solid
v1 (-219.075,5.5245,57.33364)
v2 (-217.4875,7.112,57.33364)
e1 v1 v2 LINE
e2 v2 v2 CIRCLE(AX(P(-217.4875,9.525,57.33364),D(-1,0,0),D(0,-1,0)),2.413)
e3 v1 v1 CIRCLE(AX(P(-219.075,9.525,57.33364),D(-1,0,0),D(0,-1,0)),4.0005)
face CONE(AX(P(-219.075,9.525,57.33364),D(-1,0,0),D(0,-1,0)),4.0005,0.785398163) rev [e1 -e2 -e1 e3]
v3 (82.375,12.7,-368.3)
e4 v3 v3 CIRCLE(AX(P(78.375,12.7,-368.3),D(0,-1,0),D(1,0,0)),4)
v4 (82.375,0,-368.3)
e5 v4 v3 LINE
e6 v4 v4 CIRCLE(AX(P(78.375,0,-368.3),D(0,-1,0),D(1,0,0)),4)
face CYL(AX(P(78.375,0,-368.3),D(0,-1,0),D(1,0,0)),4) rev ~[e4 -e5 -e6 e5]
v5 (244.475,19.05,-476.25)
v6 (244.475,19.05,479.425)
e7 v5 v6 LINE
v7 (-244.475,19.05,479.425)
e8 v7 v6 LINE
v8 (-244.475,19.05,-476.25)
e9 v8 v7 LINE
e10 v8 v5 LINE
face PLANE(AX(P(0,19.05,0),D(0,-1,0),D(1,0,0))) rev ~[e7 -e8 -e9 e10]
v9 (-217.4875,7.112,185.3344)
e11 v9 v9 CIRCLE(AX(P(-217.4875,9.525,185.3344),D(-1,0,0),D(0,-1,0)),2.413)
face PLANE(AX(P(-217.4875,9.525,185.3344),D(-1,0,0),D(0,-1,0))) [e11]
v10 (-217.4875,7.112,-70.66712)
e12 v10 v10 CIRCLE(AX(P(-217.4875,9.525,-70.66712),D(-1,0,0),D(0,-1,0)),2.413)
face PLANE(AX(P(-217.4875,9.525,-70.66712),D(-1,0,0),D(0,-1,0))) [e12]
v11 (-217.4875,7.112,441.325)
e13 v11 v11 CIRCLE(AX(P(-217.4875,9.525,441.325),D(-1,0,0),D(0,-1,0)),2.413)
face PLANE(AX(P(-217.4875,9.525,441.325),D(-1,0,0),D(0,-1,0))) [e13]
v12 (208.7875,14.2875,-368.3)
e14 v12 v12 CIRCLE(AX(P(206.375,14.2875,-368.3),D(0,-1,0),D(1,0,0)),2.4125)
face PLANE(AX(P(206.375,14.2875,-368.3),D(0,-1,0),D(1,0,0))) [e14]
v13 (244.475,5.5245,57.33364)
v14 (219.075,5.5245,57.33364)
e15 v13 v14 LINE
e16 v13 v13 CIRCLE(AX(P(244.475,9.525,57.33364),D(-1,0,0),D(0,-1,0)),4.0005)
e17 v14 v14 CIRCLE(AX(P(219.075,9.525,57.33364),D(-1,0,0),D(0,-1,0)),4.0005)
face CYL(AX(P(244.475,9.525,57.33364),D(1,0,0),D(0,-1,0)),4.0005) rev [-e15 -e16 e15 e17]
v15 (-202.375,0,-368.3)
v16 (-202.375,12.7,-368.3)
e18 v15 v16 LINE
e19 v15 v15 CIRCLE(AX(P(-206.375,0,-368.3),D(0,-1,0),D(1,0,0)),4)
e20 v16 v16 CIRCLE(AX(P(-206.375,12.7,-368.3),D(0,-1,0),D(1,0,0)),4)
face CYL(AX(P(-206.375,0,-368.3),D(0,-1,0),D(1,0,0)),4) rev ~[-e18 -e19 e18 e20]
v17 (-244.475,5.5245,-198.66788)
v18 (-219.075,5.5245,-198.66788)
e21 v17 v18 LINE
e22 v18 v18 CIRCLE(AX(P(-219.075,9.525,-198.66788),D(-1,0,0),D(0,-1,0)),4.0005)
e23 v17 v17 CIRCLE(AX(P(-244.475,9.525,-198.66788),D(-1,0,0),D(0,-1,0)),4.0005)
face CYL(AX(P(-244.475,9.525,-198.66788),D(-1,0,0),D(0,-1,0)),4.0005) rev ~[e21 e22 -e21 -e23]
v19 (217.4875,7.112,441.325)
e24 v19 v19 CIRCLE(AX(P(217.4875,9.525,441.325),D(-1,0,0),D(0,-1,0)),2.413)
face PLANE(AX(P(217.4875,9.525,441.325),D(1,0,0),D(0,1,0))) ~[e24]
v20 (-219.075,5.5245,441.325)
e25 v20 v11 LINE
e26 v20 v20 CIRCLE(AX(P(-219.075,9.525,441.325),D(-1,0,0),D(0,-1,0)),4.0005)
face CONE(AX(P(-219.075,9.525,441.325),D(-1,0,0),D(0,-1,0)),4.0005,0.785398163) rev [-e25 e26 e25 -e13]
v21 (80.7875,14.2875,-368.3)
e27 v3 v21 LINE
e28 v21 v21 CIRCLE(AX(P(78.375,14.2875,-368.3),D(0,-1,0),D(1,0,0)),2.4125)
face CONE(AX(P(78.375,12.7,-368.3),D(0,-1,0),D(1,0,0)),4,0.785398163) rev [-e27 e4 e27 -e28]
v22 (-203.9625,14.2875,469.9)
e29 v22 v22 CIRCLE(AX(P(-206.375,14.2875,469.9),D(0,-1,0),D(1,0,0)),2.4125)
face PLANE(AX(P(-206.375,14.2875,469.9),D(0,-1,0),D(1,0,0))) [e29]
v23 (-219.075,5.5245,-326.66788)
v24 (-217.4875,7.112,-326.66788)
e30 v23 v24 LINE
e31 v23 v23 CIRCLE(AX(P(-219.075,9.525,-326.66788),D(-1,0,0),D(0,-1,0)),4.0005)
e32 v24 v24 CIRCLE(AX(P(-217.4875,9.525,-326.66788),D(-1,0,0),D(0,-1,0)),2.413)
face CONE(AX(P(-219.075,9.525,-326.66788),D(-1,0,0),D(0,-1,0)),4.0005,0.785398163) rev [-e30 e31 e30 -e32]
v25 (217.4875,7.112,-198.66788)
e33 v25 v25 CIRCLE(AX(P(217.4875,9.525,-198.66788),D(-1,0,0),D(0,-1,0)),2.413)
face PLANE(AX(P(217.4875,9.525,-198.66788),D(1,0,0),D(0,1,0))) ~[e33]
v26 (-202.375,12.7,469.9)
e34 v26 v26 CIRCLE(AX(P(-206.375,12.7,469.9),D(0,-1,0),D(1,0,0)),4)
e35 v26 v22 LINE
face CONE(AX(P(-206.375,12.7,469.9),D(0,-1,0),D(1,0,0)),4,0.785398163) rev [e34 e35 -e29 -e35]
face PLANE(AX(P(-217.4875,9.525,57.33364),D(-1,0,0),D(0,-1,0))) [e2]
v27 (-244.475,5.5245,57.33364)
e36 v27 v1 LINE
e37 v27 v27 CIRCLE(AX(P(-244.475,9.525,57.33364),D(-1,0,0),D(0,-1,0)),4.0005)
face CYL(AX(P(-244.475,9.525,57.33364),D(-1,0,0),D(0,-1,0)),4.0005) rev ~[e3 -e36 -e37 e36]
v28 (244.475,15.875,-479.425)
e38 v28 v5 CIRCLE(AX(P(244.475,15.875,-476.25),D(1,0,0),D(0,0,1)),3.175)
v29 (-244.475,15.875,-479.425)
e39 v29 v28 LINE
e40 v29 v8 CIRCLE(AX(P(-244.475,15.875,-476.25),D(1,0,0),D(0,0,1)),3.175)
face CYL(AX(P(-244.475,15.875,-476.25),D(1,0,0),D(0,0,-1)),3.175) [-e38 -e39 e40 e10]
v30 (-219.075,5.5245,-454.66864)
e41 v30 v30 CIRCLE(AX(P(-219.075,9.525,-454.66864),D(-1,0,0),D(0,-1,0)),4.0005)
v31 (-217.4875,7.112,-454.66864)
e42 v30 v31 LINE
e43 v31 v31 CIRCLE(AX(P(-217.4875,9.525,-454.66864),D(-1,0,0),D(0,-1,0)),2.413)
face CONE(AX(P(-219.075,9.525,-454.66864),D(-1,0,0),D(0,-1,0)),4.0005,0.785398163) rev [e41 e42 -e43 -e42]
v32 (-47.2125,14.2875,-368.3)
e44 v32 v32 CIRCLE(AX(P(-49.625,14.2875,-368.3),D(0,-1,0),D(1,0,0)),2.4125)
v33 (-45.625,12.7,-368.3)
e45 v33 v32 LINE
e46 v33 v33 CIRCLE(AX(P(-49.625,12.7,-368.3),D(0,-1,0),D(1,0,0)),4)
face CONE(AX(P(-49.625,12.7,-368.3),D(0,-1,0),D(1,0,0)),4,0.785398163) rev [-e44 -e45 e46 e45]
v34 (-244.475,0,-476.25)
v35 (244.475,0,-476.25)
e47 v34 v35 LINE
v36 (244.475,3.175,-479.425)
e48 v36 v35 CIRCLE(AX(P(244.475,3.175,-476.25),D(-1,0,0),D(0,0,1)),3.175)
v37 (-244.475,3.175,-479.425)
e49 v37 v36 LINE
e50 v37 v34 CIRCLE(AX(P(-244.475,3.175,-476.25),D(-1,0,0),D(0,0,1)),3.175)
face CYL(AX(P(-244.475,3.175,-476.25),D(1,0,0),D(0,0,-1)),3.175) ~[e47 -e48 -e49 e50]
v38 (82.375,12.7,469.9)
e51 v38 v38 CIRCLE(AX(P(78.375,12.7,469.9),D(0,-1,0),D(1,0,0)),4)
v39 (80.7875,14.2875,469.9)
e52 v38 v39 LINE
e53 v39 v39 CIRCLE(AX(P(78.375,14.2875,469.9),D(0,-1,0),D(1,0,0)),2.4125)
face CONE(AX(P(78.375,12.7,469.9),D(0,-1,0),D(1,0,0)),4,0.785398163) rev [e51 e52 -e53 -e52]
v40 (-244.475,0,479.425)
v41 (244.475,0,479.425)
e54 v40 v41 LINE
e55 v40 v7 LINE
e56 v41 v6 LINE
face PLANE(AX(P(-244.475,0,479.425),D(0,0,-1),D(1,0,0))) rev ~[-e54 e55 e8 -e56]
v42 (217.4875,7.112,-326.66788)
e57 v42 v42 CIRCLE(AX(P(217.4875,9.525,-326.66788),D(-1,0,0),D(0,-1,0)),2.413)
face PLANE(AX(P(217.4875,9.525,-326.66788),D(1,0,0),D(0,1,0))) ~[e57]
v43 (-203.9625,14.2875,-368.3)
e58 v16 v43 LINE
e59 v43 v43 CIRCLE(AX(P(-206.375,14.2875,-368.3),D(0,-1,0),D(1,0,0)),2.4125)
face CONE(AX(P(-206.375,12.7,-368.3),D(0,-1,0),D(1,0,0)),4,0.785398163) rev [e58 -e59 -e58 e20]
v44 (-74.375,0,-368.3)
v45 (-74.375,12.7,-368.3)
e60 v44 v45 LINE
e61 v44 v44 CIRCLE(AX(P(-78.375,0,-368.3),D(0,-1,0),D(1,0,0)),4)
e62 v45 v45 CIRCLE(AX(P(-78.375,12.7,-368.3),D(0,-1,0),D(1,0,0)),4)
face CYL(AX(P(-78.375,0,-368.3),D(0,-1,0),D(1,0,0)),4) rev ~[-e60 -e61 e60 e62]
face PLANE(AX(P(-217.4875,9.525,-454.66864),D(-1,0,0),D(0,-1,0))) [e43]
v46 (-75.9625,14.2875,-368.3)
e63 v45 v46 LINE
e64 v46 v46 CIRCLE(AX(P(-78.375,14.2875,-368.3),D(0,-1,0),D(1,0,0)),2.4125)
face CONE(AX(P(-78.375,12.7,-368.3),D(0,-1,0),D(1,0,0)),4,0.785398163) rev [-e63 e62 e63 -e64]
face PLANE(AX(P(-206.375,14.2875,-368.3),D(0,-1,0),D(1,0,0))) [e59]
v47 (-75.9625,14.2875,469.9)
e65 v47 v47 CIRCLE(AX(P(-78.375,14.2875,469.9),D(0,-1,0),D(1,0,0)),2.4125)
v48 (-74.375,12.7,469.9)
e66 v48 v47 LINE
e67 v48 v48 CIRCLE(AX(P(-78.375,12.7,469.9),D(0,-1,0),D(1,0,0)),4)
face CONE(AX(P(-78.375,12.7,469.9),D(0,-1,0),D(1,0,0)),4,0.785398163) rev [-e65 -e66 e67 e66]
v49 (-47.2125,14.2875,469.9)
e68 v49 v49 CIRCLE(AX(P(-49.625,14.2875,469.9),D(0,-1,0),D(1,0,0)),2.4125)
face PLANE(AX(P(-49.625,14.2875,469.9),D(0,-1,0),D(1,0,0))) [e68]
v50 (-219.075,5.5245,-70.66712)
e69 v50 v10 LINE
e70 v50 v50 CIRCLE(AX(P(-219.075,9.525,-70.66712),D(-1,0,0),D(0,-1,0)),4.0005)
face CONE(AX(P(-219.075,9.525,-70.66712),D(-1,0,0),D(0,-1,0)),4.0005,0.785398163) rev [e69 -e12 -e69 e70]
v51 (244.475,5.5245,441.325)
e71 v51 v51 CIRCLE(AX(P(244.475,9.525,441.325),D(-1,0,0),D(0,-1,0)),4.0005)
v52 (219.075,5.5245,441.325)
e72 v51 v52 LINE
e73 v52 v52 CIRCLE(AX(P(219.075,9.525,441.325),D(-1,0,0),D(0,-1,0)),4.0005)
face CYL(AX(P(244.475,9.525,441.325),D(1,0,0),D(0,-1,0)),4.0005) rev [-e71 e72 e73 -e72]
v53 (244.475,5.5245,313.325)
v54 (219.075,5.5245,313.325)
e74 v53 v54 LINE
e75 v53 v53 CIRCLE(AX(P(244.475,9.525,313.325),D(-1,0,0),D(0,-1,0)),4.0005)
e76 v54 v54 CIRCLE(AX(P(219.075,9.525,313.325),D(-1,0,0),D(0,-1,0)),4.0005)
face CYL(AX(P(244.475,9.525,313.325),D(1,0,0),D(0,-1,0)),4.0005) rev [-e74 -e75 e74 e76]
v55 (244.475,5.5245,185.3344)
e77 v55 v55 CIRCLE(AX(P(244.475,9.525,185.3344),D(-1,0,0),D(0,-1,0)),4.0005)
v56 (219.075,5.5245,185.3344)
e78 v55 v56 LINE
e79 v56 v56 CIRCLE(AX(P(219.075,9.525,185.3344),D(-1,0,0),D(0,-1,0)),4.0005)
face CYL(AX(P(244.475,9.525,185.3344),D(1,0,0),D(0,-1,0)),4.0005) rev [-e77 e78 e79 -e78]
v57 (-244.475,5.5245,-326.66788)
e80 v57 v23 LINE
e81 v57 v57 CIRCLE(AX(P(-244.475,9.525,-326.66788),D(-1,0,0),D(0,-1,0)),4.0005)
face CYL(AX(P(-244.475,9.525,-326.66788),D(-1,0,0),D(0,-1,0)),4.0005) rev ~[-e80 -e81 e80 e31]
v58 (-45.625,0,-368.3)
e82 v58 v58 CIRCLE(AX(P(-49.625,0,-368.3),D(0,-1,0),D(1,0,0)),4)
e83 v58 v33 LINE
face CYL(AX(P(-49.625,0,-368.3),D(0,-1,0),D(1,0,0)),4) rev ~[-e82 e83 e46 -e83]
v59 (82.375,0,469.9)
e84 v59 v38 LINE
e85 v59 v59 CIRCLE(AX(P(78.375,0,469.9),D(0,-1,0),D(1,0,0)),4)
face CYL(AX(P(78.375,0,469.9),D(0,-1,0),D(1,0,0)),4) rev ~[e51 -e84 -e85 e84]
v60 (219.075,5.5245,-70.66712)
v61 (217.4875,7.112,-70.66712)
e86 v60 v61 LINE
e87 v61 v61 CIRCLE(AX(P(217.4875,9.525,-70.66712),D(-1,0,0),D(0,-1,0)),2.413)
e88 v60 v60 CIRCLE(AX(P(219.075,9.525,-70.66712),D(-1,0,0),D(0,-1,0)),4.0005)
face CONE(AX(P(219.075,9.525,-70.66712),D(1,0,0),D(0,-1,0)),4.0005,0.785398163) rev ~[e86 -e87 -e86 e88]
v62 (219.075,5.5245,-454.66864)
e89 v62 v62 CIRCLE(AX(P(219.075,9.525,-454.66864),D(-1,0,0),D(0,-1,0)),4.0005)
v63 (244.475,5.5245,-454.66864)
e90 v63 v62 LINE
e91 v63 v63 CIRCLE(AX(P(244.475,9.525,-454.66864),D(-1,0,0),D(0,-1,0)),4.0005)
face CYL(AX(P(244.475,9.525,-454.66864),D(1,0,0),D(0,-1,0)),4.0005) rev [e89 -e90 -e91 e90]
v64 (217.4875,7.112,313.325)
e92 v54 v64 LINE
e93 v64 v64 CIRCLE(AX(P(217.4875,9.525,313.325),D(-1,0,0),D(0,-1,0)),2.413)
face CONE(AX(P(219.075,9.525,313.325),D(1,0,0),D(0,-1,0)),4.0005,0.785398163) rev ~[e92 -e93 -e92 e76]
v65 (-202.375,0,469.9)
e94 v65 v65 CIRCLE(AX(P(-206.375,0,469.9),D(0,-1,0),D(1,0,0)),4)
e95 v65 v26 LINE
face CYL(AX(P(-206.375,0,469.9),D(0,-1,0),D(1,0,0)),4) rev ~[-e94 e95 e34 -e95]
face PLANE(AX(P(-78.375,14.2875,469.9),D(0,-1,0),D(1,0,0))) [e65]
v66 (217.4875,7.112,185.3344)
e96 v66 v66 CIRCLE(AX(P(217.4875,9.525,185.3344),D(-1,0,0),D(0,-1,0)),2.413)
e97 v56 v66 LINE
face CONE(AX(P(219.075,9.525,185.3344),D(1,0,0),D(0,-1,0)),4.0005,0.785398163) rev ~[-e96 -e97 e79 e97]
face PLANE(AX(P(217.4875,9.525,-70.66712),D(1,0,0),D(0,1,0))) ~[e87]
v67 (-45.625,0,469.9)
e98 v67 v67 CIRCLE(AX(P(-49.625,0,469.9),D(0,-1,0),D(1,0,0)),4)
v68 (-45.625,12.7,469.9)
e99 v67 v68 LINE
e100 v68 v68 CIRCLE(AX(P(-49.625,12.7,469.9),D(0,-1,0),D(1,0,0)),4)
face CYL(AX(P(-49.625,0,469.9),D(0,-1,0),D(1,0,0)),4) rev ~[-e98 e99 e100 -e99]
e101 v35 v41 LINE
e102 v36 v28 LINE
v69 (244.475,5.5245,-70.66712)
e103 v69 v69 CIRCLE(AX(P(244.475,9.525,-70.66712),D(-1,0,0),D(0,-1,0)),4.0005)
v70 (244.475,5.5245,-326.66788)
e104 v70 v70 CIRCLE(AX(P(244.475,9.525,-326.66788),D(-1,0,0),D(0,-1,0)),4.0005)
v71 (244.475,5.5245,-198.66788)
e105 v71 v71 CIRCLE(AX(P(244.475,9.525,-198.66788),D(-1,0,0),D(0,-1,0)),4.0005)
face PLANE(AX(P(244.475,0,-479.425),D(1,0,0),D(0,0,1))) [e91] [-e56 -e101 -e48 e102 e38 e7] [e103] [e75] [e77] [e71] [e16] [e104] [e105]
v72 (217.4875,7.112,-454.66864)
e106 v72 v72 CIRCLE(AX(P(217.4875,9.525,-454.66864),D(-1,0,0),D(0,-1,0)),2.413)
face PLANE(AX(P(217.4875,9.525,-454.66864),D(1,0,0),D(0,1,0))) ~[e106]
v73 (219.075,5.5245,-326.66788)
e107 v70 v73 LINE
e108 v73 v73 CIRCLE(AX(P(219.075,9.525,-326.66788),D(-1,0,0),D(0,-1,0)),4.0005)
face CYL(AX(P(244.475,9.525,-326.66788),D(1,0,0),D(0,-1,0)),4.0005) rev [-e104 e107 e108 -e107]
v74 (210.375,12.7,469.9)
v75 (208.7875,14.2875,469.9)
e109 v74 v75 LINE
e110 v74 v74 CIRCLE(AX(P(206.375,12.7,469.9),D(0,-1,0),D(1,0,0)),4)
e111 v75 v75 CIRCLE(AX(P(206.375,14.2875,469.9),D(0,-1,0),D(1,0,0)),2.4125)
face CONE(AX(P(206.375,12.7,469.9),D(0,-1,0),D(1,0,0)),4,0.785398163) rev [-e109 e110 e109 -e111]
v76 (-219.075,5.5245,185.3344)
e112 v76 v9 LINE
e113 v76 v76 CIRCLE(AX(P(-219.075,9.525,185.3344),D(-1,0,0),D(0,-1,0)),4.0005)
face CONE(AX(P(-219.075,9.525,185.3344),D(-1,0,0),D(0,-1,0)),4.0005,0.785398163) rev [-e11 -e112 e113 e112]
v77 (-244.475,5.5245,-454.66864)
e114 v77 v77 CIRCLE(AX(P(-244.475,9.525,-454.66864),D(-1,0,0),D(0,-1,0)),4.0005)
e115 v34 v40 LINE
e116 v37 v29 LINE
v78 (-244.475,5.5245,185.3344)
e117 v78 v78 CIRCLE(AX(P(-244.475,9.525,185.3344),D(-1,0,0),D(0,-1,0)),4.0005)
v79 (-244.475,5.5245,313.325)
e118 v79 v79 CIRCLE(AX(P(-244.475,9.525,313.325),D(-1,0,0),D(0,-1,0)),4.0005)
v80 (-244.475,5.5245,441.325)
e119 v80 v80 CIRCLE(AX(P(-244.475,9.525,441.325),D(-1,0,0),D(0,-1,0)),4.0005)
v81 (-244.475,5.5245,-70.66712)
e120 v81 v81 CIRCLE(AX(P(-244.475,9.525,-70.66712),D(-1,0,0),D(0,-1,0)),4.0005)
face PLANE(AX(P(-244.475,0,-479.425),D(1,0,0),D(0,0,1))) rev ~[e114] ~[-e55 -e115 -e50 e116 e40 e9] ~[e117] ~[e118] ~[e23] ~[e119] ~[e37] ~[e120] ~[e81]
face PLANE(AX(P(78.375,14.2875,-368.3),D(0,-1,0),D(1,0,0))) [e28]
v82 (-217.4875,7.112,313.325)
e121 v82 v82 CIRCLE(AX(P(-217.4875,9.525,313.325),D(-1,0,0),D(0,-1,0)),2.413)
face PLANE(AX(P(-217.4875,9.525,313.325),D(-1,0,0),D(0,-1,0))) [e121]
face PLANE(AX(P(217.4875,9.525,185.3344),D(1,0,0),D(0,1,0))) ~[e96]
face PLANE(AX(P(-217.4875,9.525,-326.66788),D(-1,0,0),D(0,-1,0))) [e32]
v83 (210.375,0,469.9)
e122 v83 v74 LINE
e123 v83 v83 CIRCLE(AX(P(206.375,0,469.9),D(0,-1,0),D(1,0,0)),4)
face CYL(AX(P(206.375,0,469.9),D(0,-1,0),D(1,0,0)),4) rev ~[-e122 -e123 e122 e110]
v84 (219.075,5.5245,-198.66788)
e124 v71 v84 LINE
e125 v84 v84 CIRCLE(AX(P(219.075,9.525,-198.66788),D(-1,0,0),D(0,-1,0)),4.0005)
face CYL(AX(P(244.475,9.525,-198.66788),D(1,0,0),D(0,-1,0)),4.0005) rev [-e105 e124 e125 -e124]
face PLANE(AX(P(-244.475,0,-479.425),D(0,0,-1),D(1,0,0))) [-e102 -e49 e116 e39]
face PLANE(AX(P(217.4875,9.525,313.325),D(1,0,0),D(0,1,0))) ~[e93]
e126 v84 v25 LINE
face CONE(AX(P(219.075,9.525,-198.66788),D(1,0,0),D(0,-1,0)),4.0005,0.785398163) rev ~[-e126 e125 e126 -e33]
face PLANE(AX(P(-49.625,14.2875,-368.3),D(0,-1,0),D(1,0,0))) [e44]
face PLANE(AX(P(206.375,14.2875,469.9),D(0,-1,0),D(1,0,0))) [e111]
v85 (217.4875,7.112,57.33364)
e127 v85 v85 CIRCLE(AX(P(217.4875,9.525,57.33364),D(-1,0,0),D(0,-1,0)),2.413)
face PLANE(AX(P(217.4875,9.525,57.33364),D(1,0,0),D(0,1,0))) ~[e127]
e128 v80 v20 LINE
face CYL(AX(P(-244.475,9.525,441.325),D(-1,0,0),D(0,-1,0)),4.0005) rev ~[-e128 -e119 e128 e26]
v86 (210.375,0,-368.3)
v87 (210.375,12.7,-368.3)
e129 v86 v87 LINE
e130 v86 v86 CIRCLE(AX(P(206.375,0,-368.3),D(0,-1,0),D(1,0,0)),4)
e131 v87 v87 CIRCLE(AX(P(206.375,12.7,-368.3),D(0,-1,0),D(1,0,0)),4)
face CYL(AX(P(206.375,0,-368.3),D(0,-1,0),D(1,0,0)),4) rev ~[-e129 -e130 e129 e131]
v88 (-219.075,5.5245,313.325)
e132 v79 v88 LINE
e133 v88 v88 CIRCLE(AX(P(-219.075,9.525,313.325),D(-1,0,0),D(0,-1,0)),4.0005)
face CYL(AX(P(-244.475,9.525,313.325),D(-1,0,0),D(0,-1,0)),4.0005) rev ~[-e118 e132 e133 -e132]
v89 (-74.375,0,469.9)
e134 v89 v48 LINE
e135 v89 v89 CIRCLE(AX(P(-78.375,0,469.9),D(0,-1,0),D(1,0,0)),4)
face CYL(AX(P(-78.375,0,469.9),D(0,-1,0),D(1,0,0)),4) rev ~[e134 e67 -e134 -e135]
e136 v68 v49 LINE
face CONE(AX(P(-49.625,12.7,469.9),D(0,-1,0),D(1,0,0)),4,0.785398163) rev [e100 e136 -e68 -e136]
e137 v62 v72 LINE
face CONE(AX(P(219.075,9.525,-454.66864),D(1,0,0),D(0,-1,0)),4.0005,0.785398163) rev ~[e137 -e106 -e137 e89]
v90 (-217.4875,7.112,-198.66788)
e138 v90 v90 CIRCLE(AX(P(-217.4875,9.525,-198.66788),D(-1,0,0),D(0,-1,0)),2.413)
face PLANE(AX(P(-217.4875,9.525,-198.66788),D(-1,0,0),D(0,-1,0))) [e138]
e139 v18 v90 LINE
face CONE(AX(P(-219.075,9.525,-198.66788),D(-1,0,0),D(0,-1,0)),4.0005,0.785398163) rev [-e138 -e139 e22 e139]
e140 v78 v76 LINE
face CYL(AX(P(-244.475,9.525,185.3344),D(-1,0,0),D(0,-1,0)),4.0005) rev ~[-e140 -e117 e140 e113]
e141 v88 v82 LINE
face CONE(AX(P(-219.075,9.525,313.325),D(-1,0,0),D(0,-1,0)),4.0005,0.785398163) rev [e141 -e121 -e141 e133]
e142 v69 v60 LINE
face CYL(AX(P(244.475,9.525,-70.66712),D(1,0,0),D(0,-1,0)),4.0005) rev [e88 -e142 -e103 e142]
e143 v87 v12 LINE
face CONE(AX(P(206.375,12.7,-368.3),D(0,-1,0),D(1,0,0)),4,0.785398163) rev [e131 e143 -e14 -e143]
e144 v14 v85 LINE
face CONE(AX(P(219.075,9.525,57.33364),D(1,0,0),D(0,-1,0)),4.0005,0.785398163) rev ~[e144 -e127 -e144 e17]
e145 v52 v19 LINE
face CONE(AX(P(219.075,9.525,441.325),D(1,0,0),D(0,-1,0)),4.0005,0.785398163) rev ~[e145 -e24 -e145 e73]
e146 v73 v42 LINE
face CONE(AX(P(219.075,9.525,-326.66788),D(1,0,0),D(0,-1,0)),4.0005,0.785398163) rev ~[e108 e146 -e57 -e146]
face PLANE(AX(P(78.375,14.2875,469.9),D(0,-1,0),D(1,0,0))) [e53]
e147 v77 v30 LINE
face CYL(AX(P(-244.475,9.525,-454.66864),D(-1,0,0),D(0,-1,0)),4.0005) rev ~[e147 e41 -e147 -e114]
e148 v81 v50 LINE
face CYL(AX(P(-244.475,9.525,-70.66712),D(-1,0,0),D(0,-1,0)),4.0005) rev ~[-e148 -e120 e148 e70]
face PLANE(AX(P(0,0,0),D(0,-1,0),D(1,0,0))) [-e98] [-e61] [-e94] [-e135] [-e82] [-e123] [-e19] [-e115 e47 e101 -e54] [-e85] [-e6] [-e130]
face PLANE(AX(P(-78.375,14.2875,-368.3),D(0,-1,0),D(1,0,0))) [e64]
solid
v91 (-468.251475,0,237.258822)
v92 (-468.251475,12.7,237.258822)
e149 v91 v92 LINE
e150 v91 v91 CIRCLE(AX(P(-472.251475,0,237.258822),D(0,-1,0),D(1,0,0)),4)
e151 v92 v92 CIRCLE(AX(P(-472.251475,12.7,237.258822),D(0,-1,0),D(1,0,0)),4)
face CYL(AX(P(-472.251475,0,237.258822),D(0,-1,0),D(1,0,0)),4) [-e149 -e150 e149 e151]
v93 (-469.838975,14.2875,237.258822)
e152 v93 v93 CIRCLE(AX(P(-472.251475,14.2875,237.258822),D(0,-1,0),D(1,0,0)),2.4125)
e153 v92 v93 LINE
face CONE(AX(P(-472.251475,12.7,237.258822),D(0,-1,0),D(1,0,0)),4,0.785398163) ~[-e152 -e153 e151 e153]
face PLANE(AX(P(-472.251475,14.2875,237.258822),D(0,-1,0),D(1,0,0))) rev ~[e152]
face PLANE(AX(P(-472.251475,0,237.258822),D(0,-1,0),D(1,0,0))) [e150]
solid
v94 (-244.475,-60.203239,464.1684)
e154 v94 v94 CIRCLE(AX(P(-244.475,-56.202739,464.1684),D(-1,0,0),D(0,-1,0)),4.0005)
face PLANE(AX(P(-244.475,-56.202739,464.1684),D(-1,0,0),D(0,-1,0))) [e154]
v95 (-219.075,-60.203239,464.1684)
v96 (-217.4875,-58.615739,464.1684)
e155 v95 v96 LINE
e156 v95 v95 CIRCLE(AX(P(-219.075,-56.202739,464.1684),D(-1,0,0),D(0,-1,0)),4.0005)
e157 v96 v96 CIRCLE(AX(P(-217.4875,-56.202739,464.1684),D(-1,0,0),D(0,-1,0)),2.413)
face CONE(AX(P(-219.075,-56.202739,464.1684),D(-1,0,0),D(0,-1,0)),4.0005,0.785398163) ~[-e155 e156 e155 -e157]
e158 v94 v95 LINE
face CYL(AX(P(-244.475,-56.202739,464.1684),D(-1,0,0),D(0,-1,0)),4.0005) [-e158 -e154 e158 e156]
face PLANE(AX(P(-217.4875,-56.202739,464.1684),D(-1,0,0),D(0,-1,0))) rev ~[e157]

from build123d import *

# Parameters (mm, degrees)
F0_W      = 488.95
F0_H      = 958.85
F1_DEPTH  = 19.05
F3_R      = 4.0005
F31_DEPTH = 26.9875
F4_SIZE   = 1.5875
F16_R     = 4
F17_DEPTH = 14.2875
F18_SIZE  = 1.5875
F30_R     = 3.175


with BuildPart() as f1:
    # F0 (on Front) → F1 (new body)
    with BuildSketch(Plane.XZ):
        Rectangle(F0_W, F0_H)
    extrude(amount=-F1_DEPTH)


with BuildPart() as f31:
    # F3 (on face) → F31 (new body)
    with BuildSketch(Plane(origin=(-244.475, 0, 0), x_dir=(0, -1, 0), z_dir=(-1, 0, 0))):
        with Locations((56.2027394772, 464.1683995724)):
            Circle(F3_R)
    extrude(amount=-F31_DEPTH)

    # F4
    f4_edges = [f31.edges().sort_by_distance(p)[0] for p in [
        (-217.4875, -52.202239, 464.1684),
    ]]
    chamfer(f4_edges, length=F4_SIZE)


with BuildPart() as f6_1:
    # F6: copy of F31
    add(f31.part.moved(Location((0, 65.7277394772, -22.8433995724))))


with BuildPart() as f7_1:
    # F7: copy of F6_1
    add(f6_1.part.moved(Location((0, 0, -128))))


with BuildPart() as f32_1:
    # F32: copy of F7_1
    add(f7_1.part.moved(Location((0, 0, -127.9906))))


with BuildPart() as f8_1:
    # F8: copy of F31
    add(f31.part.moved(Location((0, 65.7277394772, -406.8347595724))))


with BuildPart() as f9_1:
    # F9: copy of F31
    add(f31.part.moved(Location((0, 65.7277394772, -534.8355195724))))


with BuildPart() as f10_1:
    # F10: copy of F31
    add(f31.part.moved(Location((0, 65.7277394772, -662.8362795724))))


with BuildPart() as f11_1:
    # F11: copy of F31
    add(f31.part.moved(Location((0, 65.7277394772, -790.8362795724))))


with BuildPart() as f12_1:
    # F12: copy of F31
    add(f31.part.moved(Location((0, 65.7277394772, -918.8370395724))))


with BuildPart() as f13_1:
    # F13: instance of F6_1
    add(f6_1.part.mirror(Plane.YZ))


with BuildPart() as f13_2:
    # F13: instance of F7_1
    add(f7_1.part.mirror(Plane.YZ))


with BuildPart() as f13_3:
    # F13: instance of F32_1
    add(f32_1.part.mirror(Plane.YZ))


with BuildPart() as f13_4:
    # F13: instance of F8_1
    add(f8_1.part.mirror(Plane.YZ))


with BuildPart() as f13_5:
    # F13: instance of F9_1
    add(f9_1.part.mirror(Plane.YZ))


with BuildPart() as f13_6:
    # F13: instance of F10_1
    add(f10_1.part.mirror(Plane.YZ))


with BuildPart() as f13_7:
    # F13: instance of F11_1
    add(f11_1.part.mirror(Plane.YZ))


with BuildPart() as f13_8:
    # F13: instance of F12_1
    add(f12_1.part.mirror(Plane.YZ))


with BuildPart() as f1_1:
    add(f1.part)

    # F14: cut F13_1, F13_2, F13_3, F13_4, F13_5, F13_6, F13_7, F13_8, F6_1, F7_1, F32_1, F8_1, F9_1, F10_1, F11_1, F12_1
    add(f13_1.part, mode=Mode.SUBTRACT)
    add(f13_2.part, mode=Mode.SUBTRACT)
    add(f13_3.part, mode=Mode.SUBTRACT)
    add(f13_4.part, mode=Mode.SUBTRACT)
    add(f13_5.part, mode=Mode.SUBTRACT)
    add(f13_6.part, mode=Mode.SUBTRACT)
    add(f13_7.part, mode=Mode.SUBTRACT)
    add(f13_8.part, mode=Mode.SUBTRACT)
    add(f6_1.part, mode=Mode.SUBTRACT)
    add(f7_1.part, mode=Mode.SUBTRACT)
    add(f32_1.part, mode=Mode.SUBTRACT)
    add(f8_1.part, mode=Mode.SUBTRACT)
    add(f9_1.part, mode=Mode.SUBTRACT)
    add(f10_1.part, mode=Mode.SUBTRACT)
    add(f11_1.part, mode=Mode.SUBTRACT)
    add(f12_1.part, mode=Mode.SUBTRACT)


with BuildPart() as f17:
    # F16 (on Front) → F17 (new body)
    with BuildSketch(Plane.XZ):
        with Locations((-472.2514748573, 237.2588217258)):
            Circle(F16_R)
    extrude(amount=-F17_DEPTH)

    # F18
    f18_edges = [f17.edges().sort_by_distance(p)[0] for p in [
        (-476.251475, 14.2875, 237.258822),
    ]]
    chamfer(f18_edges, length=F18_SIZE)


with BuildPart() as f19_1:
    # F19: copy of F17
    add(f17.part.moved(Location((265.8764748573, 0, 232.6411782742))))


with BuildPart() as f20_1:
    # F20: copy of F17
    add(f17.part.moved(Location((393.8764748573, 0, 232.6411782742))))


with BuildPart() as f21_1:
    # F21: copy of F17
    add(f17.part.moved(Location((422.6264748573, 0, 232.6411782742))))


with BuildPart() as f22_1:
    # F22: copy of F17
    add(f17.part.moved(Location((550.6264748573, 0, 232.6411782742))))


with BuildPart() as f23_1:
    # F23: copy of F17
    add(f17.part.moved(Location((678.6264748573, 0, 232.6411782742))))


with BuildPart() as f24_1:
    # F24: copy of F17
    add(f17.part.moved(Location((265.8764748573, 0, -605.5588217258))))


with BuildPart() as f25_1:
    # F25: copy of F17
    add(f17.part.moved(Location((393.8764748573, 0, -605.5588217258))))


with BuildPart() as f26_1:
    # F26: copy of F17
    add(f17.part.moved(Location((422.6264748573, 0, -605.5588217258))))


with BuildPart() as f27_1:
    # F27: copy of F17
    add(f17.part.moved(Location((550.6264748573, 0, -605.5588217258))))


with BuildPart() as f28_1:
    # F28: copy of F17
    add(f17.part.moved(Location((678.6264748573, 0, -605.5588217258))))


with BuildPart() as f1_2:
    add(f1_1.part)

    # F29: cut F24_1, F25_1, F26_1, F27_1, F28_1, F19_1, F20_1, F21_1, F22_1, F23_1
    add(f24_1.part, mode=Mode.SUBTRACT)
    add(f25_1.part, mode=Mode.SUBTRACT)
    add(f26_1.part, mode=Mode.SUBTRACT)
    add(f27_1.part, mode=Mode.SUBTRACT)
    add(f28_1.part, mode=Mode.SUBTRACT)
    add(f19_1.part, mode=Mode.SUBTRACT)
    add(f20_1.part, mode=Mode.SUBTRACT)
    add(f21_1.part, mode=Mode.SUBTRACT)
    add(f22_1.part, mode=Mode.SUBTRACT)
    add(f23_1.part, mode=Mode.SUBTRACT)

    # F30
    f30_edges = [f1_2.edges().sort_by_distance(p)[0] for p in [
        (0, 19.05, -479.425),
        (0, 0, -479.425),
    ]]
    fillet(f30_edges, radius=F30_R)


solid = Compound([f31.part, f17.part, f1_2.part])
